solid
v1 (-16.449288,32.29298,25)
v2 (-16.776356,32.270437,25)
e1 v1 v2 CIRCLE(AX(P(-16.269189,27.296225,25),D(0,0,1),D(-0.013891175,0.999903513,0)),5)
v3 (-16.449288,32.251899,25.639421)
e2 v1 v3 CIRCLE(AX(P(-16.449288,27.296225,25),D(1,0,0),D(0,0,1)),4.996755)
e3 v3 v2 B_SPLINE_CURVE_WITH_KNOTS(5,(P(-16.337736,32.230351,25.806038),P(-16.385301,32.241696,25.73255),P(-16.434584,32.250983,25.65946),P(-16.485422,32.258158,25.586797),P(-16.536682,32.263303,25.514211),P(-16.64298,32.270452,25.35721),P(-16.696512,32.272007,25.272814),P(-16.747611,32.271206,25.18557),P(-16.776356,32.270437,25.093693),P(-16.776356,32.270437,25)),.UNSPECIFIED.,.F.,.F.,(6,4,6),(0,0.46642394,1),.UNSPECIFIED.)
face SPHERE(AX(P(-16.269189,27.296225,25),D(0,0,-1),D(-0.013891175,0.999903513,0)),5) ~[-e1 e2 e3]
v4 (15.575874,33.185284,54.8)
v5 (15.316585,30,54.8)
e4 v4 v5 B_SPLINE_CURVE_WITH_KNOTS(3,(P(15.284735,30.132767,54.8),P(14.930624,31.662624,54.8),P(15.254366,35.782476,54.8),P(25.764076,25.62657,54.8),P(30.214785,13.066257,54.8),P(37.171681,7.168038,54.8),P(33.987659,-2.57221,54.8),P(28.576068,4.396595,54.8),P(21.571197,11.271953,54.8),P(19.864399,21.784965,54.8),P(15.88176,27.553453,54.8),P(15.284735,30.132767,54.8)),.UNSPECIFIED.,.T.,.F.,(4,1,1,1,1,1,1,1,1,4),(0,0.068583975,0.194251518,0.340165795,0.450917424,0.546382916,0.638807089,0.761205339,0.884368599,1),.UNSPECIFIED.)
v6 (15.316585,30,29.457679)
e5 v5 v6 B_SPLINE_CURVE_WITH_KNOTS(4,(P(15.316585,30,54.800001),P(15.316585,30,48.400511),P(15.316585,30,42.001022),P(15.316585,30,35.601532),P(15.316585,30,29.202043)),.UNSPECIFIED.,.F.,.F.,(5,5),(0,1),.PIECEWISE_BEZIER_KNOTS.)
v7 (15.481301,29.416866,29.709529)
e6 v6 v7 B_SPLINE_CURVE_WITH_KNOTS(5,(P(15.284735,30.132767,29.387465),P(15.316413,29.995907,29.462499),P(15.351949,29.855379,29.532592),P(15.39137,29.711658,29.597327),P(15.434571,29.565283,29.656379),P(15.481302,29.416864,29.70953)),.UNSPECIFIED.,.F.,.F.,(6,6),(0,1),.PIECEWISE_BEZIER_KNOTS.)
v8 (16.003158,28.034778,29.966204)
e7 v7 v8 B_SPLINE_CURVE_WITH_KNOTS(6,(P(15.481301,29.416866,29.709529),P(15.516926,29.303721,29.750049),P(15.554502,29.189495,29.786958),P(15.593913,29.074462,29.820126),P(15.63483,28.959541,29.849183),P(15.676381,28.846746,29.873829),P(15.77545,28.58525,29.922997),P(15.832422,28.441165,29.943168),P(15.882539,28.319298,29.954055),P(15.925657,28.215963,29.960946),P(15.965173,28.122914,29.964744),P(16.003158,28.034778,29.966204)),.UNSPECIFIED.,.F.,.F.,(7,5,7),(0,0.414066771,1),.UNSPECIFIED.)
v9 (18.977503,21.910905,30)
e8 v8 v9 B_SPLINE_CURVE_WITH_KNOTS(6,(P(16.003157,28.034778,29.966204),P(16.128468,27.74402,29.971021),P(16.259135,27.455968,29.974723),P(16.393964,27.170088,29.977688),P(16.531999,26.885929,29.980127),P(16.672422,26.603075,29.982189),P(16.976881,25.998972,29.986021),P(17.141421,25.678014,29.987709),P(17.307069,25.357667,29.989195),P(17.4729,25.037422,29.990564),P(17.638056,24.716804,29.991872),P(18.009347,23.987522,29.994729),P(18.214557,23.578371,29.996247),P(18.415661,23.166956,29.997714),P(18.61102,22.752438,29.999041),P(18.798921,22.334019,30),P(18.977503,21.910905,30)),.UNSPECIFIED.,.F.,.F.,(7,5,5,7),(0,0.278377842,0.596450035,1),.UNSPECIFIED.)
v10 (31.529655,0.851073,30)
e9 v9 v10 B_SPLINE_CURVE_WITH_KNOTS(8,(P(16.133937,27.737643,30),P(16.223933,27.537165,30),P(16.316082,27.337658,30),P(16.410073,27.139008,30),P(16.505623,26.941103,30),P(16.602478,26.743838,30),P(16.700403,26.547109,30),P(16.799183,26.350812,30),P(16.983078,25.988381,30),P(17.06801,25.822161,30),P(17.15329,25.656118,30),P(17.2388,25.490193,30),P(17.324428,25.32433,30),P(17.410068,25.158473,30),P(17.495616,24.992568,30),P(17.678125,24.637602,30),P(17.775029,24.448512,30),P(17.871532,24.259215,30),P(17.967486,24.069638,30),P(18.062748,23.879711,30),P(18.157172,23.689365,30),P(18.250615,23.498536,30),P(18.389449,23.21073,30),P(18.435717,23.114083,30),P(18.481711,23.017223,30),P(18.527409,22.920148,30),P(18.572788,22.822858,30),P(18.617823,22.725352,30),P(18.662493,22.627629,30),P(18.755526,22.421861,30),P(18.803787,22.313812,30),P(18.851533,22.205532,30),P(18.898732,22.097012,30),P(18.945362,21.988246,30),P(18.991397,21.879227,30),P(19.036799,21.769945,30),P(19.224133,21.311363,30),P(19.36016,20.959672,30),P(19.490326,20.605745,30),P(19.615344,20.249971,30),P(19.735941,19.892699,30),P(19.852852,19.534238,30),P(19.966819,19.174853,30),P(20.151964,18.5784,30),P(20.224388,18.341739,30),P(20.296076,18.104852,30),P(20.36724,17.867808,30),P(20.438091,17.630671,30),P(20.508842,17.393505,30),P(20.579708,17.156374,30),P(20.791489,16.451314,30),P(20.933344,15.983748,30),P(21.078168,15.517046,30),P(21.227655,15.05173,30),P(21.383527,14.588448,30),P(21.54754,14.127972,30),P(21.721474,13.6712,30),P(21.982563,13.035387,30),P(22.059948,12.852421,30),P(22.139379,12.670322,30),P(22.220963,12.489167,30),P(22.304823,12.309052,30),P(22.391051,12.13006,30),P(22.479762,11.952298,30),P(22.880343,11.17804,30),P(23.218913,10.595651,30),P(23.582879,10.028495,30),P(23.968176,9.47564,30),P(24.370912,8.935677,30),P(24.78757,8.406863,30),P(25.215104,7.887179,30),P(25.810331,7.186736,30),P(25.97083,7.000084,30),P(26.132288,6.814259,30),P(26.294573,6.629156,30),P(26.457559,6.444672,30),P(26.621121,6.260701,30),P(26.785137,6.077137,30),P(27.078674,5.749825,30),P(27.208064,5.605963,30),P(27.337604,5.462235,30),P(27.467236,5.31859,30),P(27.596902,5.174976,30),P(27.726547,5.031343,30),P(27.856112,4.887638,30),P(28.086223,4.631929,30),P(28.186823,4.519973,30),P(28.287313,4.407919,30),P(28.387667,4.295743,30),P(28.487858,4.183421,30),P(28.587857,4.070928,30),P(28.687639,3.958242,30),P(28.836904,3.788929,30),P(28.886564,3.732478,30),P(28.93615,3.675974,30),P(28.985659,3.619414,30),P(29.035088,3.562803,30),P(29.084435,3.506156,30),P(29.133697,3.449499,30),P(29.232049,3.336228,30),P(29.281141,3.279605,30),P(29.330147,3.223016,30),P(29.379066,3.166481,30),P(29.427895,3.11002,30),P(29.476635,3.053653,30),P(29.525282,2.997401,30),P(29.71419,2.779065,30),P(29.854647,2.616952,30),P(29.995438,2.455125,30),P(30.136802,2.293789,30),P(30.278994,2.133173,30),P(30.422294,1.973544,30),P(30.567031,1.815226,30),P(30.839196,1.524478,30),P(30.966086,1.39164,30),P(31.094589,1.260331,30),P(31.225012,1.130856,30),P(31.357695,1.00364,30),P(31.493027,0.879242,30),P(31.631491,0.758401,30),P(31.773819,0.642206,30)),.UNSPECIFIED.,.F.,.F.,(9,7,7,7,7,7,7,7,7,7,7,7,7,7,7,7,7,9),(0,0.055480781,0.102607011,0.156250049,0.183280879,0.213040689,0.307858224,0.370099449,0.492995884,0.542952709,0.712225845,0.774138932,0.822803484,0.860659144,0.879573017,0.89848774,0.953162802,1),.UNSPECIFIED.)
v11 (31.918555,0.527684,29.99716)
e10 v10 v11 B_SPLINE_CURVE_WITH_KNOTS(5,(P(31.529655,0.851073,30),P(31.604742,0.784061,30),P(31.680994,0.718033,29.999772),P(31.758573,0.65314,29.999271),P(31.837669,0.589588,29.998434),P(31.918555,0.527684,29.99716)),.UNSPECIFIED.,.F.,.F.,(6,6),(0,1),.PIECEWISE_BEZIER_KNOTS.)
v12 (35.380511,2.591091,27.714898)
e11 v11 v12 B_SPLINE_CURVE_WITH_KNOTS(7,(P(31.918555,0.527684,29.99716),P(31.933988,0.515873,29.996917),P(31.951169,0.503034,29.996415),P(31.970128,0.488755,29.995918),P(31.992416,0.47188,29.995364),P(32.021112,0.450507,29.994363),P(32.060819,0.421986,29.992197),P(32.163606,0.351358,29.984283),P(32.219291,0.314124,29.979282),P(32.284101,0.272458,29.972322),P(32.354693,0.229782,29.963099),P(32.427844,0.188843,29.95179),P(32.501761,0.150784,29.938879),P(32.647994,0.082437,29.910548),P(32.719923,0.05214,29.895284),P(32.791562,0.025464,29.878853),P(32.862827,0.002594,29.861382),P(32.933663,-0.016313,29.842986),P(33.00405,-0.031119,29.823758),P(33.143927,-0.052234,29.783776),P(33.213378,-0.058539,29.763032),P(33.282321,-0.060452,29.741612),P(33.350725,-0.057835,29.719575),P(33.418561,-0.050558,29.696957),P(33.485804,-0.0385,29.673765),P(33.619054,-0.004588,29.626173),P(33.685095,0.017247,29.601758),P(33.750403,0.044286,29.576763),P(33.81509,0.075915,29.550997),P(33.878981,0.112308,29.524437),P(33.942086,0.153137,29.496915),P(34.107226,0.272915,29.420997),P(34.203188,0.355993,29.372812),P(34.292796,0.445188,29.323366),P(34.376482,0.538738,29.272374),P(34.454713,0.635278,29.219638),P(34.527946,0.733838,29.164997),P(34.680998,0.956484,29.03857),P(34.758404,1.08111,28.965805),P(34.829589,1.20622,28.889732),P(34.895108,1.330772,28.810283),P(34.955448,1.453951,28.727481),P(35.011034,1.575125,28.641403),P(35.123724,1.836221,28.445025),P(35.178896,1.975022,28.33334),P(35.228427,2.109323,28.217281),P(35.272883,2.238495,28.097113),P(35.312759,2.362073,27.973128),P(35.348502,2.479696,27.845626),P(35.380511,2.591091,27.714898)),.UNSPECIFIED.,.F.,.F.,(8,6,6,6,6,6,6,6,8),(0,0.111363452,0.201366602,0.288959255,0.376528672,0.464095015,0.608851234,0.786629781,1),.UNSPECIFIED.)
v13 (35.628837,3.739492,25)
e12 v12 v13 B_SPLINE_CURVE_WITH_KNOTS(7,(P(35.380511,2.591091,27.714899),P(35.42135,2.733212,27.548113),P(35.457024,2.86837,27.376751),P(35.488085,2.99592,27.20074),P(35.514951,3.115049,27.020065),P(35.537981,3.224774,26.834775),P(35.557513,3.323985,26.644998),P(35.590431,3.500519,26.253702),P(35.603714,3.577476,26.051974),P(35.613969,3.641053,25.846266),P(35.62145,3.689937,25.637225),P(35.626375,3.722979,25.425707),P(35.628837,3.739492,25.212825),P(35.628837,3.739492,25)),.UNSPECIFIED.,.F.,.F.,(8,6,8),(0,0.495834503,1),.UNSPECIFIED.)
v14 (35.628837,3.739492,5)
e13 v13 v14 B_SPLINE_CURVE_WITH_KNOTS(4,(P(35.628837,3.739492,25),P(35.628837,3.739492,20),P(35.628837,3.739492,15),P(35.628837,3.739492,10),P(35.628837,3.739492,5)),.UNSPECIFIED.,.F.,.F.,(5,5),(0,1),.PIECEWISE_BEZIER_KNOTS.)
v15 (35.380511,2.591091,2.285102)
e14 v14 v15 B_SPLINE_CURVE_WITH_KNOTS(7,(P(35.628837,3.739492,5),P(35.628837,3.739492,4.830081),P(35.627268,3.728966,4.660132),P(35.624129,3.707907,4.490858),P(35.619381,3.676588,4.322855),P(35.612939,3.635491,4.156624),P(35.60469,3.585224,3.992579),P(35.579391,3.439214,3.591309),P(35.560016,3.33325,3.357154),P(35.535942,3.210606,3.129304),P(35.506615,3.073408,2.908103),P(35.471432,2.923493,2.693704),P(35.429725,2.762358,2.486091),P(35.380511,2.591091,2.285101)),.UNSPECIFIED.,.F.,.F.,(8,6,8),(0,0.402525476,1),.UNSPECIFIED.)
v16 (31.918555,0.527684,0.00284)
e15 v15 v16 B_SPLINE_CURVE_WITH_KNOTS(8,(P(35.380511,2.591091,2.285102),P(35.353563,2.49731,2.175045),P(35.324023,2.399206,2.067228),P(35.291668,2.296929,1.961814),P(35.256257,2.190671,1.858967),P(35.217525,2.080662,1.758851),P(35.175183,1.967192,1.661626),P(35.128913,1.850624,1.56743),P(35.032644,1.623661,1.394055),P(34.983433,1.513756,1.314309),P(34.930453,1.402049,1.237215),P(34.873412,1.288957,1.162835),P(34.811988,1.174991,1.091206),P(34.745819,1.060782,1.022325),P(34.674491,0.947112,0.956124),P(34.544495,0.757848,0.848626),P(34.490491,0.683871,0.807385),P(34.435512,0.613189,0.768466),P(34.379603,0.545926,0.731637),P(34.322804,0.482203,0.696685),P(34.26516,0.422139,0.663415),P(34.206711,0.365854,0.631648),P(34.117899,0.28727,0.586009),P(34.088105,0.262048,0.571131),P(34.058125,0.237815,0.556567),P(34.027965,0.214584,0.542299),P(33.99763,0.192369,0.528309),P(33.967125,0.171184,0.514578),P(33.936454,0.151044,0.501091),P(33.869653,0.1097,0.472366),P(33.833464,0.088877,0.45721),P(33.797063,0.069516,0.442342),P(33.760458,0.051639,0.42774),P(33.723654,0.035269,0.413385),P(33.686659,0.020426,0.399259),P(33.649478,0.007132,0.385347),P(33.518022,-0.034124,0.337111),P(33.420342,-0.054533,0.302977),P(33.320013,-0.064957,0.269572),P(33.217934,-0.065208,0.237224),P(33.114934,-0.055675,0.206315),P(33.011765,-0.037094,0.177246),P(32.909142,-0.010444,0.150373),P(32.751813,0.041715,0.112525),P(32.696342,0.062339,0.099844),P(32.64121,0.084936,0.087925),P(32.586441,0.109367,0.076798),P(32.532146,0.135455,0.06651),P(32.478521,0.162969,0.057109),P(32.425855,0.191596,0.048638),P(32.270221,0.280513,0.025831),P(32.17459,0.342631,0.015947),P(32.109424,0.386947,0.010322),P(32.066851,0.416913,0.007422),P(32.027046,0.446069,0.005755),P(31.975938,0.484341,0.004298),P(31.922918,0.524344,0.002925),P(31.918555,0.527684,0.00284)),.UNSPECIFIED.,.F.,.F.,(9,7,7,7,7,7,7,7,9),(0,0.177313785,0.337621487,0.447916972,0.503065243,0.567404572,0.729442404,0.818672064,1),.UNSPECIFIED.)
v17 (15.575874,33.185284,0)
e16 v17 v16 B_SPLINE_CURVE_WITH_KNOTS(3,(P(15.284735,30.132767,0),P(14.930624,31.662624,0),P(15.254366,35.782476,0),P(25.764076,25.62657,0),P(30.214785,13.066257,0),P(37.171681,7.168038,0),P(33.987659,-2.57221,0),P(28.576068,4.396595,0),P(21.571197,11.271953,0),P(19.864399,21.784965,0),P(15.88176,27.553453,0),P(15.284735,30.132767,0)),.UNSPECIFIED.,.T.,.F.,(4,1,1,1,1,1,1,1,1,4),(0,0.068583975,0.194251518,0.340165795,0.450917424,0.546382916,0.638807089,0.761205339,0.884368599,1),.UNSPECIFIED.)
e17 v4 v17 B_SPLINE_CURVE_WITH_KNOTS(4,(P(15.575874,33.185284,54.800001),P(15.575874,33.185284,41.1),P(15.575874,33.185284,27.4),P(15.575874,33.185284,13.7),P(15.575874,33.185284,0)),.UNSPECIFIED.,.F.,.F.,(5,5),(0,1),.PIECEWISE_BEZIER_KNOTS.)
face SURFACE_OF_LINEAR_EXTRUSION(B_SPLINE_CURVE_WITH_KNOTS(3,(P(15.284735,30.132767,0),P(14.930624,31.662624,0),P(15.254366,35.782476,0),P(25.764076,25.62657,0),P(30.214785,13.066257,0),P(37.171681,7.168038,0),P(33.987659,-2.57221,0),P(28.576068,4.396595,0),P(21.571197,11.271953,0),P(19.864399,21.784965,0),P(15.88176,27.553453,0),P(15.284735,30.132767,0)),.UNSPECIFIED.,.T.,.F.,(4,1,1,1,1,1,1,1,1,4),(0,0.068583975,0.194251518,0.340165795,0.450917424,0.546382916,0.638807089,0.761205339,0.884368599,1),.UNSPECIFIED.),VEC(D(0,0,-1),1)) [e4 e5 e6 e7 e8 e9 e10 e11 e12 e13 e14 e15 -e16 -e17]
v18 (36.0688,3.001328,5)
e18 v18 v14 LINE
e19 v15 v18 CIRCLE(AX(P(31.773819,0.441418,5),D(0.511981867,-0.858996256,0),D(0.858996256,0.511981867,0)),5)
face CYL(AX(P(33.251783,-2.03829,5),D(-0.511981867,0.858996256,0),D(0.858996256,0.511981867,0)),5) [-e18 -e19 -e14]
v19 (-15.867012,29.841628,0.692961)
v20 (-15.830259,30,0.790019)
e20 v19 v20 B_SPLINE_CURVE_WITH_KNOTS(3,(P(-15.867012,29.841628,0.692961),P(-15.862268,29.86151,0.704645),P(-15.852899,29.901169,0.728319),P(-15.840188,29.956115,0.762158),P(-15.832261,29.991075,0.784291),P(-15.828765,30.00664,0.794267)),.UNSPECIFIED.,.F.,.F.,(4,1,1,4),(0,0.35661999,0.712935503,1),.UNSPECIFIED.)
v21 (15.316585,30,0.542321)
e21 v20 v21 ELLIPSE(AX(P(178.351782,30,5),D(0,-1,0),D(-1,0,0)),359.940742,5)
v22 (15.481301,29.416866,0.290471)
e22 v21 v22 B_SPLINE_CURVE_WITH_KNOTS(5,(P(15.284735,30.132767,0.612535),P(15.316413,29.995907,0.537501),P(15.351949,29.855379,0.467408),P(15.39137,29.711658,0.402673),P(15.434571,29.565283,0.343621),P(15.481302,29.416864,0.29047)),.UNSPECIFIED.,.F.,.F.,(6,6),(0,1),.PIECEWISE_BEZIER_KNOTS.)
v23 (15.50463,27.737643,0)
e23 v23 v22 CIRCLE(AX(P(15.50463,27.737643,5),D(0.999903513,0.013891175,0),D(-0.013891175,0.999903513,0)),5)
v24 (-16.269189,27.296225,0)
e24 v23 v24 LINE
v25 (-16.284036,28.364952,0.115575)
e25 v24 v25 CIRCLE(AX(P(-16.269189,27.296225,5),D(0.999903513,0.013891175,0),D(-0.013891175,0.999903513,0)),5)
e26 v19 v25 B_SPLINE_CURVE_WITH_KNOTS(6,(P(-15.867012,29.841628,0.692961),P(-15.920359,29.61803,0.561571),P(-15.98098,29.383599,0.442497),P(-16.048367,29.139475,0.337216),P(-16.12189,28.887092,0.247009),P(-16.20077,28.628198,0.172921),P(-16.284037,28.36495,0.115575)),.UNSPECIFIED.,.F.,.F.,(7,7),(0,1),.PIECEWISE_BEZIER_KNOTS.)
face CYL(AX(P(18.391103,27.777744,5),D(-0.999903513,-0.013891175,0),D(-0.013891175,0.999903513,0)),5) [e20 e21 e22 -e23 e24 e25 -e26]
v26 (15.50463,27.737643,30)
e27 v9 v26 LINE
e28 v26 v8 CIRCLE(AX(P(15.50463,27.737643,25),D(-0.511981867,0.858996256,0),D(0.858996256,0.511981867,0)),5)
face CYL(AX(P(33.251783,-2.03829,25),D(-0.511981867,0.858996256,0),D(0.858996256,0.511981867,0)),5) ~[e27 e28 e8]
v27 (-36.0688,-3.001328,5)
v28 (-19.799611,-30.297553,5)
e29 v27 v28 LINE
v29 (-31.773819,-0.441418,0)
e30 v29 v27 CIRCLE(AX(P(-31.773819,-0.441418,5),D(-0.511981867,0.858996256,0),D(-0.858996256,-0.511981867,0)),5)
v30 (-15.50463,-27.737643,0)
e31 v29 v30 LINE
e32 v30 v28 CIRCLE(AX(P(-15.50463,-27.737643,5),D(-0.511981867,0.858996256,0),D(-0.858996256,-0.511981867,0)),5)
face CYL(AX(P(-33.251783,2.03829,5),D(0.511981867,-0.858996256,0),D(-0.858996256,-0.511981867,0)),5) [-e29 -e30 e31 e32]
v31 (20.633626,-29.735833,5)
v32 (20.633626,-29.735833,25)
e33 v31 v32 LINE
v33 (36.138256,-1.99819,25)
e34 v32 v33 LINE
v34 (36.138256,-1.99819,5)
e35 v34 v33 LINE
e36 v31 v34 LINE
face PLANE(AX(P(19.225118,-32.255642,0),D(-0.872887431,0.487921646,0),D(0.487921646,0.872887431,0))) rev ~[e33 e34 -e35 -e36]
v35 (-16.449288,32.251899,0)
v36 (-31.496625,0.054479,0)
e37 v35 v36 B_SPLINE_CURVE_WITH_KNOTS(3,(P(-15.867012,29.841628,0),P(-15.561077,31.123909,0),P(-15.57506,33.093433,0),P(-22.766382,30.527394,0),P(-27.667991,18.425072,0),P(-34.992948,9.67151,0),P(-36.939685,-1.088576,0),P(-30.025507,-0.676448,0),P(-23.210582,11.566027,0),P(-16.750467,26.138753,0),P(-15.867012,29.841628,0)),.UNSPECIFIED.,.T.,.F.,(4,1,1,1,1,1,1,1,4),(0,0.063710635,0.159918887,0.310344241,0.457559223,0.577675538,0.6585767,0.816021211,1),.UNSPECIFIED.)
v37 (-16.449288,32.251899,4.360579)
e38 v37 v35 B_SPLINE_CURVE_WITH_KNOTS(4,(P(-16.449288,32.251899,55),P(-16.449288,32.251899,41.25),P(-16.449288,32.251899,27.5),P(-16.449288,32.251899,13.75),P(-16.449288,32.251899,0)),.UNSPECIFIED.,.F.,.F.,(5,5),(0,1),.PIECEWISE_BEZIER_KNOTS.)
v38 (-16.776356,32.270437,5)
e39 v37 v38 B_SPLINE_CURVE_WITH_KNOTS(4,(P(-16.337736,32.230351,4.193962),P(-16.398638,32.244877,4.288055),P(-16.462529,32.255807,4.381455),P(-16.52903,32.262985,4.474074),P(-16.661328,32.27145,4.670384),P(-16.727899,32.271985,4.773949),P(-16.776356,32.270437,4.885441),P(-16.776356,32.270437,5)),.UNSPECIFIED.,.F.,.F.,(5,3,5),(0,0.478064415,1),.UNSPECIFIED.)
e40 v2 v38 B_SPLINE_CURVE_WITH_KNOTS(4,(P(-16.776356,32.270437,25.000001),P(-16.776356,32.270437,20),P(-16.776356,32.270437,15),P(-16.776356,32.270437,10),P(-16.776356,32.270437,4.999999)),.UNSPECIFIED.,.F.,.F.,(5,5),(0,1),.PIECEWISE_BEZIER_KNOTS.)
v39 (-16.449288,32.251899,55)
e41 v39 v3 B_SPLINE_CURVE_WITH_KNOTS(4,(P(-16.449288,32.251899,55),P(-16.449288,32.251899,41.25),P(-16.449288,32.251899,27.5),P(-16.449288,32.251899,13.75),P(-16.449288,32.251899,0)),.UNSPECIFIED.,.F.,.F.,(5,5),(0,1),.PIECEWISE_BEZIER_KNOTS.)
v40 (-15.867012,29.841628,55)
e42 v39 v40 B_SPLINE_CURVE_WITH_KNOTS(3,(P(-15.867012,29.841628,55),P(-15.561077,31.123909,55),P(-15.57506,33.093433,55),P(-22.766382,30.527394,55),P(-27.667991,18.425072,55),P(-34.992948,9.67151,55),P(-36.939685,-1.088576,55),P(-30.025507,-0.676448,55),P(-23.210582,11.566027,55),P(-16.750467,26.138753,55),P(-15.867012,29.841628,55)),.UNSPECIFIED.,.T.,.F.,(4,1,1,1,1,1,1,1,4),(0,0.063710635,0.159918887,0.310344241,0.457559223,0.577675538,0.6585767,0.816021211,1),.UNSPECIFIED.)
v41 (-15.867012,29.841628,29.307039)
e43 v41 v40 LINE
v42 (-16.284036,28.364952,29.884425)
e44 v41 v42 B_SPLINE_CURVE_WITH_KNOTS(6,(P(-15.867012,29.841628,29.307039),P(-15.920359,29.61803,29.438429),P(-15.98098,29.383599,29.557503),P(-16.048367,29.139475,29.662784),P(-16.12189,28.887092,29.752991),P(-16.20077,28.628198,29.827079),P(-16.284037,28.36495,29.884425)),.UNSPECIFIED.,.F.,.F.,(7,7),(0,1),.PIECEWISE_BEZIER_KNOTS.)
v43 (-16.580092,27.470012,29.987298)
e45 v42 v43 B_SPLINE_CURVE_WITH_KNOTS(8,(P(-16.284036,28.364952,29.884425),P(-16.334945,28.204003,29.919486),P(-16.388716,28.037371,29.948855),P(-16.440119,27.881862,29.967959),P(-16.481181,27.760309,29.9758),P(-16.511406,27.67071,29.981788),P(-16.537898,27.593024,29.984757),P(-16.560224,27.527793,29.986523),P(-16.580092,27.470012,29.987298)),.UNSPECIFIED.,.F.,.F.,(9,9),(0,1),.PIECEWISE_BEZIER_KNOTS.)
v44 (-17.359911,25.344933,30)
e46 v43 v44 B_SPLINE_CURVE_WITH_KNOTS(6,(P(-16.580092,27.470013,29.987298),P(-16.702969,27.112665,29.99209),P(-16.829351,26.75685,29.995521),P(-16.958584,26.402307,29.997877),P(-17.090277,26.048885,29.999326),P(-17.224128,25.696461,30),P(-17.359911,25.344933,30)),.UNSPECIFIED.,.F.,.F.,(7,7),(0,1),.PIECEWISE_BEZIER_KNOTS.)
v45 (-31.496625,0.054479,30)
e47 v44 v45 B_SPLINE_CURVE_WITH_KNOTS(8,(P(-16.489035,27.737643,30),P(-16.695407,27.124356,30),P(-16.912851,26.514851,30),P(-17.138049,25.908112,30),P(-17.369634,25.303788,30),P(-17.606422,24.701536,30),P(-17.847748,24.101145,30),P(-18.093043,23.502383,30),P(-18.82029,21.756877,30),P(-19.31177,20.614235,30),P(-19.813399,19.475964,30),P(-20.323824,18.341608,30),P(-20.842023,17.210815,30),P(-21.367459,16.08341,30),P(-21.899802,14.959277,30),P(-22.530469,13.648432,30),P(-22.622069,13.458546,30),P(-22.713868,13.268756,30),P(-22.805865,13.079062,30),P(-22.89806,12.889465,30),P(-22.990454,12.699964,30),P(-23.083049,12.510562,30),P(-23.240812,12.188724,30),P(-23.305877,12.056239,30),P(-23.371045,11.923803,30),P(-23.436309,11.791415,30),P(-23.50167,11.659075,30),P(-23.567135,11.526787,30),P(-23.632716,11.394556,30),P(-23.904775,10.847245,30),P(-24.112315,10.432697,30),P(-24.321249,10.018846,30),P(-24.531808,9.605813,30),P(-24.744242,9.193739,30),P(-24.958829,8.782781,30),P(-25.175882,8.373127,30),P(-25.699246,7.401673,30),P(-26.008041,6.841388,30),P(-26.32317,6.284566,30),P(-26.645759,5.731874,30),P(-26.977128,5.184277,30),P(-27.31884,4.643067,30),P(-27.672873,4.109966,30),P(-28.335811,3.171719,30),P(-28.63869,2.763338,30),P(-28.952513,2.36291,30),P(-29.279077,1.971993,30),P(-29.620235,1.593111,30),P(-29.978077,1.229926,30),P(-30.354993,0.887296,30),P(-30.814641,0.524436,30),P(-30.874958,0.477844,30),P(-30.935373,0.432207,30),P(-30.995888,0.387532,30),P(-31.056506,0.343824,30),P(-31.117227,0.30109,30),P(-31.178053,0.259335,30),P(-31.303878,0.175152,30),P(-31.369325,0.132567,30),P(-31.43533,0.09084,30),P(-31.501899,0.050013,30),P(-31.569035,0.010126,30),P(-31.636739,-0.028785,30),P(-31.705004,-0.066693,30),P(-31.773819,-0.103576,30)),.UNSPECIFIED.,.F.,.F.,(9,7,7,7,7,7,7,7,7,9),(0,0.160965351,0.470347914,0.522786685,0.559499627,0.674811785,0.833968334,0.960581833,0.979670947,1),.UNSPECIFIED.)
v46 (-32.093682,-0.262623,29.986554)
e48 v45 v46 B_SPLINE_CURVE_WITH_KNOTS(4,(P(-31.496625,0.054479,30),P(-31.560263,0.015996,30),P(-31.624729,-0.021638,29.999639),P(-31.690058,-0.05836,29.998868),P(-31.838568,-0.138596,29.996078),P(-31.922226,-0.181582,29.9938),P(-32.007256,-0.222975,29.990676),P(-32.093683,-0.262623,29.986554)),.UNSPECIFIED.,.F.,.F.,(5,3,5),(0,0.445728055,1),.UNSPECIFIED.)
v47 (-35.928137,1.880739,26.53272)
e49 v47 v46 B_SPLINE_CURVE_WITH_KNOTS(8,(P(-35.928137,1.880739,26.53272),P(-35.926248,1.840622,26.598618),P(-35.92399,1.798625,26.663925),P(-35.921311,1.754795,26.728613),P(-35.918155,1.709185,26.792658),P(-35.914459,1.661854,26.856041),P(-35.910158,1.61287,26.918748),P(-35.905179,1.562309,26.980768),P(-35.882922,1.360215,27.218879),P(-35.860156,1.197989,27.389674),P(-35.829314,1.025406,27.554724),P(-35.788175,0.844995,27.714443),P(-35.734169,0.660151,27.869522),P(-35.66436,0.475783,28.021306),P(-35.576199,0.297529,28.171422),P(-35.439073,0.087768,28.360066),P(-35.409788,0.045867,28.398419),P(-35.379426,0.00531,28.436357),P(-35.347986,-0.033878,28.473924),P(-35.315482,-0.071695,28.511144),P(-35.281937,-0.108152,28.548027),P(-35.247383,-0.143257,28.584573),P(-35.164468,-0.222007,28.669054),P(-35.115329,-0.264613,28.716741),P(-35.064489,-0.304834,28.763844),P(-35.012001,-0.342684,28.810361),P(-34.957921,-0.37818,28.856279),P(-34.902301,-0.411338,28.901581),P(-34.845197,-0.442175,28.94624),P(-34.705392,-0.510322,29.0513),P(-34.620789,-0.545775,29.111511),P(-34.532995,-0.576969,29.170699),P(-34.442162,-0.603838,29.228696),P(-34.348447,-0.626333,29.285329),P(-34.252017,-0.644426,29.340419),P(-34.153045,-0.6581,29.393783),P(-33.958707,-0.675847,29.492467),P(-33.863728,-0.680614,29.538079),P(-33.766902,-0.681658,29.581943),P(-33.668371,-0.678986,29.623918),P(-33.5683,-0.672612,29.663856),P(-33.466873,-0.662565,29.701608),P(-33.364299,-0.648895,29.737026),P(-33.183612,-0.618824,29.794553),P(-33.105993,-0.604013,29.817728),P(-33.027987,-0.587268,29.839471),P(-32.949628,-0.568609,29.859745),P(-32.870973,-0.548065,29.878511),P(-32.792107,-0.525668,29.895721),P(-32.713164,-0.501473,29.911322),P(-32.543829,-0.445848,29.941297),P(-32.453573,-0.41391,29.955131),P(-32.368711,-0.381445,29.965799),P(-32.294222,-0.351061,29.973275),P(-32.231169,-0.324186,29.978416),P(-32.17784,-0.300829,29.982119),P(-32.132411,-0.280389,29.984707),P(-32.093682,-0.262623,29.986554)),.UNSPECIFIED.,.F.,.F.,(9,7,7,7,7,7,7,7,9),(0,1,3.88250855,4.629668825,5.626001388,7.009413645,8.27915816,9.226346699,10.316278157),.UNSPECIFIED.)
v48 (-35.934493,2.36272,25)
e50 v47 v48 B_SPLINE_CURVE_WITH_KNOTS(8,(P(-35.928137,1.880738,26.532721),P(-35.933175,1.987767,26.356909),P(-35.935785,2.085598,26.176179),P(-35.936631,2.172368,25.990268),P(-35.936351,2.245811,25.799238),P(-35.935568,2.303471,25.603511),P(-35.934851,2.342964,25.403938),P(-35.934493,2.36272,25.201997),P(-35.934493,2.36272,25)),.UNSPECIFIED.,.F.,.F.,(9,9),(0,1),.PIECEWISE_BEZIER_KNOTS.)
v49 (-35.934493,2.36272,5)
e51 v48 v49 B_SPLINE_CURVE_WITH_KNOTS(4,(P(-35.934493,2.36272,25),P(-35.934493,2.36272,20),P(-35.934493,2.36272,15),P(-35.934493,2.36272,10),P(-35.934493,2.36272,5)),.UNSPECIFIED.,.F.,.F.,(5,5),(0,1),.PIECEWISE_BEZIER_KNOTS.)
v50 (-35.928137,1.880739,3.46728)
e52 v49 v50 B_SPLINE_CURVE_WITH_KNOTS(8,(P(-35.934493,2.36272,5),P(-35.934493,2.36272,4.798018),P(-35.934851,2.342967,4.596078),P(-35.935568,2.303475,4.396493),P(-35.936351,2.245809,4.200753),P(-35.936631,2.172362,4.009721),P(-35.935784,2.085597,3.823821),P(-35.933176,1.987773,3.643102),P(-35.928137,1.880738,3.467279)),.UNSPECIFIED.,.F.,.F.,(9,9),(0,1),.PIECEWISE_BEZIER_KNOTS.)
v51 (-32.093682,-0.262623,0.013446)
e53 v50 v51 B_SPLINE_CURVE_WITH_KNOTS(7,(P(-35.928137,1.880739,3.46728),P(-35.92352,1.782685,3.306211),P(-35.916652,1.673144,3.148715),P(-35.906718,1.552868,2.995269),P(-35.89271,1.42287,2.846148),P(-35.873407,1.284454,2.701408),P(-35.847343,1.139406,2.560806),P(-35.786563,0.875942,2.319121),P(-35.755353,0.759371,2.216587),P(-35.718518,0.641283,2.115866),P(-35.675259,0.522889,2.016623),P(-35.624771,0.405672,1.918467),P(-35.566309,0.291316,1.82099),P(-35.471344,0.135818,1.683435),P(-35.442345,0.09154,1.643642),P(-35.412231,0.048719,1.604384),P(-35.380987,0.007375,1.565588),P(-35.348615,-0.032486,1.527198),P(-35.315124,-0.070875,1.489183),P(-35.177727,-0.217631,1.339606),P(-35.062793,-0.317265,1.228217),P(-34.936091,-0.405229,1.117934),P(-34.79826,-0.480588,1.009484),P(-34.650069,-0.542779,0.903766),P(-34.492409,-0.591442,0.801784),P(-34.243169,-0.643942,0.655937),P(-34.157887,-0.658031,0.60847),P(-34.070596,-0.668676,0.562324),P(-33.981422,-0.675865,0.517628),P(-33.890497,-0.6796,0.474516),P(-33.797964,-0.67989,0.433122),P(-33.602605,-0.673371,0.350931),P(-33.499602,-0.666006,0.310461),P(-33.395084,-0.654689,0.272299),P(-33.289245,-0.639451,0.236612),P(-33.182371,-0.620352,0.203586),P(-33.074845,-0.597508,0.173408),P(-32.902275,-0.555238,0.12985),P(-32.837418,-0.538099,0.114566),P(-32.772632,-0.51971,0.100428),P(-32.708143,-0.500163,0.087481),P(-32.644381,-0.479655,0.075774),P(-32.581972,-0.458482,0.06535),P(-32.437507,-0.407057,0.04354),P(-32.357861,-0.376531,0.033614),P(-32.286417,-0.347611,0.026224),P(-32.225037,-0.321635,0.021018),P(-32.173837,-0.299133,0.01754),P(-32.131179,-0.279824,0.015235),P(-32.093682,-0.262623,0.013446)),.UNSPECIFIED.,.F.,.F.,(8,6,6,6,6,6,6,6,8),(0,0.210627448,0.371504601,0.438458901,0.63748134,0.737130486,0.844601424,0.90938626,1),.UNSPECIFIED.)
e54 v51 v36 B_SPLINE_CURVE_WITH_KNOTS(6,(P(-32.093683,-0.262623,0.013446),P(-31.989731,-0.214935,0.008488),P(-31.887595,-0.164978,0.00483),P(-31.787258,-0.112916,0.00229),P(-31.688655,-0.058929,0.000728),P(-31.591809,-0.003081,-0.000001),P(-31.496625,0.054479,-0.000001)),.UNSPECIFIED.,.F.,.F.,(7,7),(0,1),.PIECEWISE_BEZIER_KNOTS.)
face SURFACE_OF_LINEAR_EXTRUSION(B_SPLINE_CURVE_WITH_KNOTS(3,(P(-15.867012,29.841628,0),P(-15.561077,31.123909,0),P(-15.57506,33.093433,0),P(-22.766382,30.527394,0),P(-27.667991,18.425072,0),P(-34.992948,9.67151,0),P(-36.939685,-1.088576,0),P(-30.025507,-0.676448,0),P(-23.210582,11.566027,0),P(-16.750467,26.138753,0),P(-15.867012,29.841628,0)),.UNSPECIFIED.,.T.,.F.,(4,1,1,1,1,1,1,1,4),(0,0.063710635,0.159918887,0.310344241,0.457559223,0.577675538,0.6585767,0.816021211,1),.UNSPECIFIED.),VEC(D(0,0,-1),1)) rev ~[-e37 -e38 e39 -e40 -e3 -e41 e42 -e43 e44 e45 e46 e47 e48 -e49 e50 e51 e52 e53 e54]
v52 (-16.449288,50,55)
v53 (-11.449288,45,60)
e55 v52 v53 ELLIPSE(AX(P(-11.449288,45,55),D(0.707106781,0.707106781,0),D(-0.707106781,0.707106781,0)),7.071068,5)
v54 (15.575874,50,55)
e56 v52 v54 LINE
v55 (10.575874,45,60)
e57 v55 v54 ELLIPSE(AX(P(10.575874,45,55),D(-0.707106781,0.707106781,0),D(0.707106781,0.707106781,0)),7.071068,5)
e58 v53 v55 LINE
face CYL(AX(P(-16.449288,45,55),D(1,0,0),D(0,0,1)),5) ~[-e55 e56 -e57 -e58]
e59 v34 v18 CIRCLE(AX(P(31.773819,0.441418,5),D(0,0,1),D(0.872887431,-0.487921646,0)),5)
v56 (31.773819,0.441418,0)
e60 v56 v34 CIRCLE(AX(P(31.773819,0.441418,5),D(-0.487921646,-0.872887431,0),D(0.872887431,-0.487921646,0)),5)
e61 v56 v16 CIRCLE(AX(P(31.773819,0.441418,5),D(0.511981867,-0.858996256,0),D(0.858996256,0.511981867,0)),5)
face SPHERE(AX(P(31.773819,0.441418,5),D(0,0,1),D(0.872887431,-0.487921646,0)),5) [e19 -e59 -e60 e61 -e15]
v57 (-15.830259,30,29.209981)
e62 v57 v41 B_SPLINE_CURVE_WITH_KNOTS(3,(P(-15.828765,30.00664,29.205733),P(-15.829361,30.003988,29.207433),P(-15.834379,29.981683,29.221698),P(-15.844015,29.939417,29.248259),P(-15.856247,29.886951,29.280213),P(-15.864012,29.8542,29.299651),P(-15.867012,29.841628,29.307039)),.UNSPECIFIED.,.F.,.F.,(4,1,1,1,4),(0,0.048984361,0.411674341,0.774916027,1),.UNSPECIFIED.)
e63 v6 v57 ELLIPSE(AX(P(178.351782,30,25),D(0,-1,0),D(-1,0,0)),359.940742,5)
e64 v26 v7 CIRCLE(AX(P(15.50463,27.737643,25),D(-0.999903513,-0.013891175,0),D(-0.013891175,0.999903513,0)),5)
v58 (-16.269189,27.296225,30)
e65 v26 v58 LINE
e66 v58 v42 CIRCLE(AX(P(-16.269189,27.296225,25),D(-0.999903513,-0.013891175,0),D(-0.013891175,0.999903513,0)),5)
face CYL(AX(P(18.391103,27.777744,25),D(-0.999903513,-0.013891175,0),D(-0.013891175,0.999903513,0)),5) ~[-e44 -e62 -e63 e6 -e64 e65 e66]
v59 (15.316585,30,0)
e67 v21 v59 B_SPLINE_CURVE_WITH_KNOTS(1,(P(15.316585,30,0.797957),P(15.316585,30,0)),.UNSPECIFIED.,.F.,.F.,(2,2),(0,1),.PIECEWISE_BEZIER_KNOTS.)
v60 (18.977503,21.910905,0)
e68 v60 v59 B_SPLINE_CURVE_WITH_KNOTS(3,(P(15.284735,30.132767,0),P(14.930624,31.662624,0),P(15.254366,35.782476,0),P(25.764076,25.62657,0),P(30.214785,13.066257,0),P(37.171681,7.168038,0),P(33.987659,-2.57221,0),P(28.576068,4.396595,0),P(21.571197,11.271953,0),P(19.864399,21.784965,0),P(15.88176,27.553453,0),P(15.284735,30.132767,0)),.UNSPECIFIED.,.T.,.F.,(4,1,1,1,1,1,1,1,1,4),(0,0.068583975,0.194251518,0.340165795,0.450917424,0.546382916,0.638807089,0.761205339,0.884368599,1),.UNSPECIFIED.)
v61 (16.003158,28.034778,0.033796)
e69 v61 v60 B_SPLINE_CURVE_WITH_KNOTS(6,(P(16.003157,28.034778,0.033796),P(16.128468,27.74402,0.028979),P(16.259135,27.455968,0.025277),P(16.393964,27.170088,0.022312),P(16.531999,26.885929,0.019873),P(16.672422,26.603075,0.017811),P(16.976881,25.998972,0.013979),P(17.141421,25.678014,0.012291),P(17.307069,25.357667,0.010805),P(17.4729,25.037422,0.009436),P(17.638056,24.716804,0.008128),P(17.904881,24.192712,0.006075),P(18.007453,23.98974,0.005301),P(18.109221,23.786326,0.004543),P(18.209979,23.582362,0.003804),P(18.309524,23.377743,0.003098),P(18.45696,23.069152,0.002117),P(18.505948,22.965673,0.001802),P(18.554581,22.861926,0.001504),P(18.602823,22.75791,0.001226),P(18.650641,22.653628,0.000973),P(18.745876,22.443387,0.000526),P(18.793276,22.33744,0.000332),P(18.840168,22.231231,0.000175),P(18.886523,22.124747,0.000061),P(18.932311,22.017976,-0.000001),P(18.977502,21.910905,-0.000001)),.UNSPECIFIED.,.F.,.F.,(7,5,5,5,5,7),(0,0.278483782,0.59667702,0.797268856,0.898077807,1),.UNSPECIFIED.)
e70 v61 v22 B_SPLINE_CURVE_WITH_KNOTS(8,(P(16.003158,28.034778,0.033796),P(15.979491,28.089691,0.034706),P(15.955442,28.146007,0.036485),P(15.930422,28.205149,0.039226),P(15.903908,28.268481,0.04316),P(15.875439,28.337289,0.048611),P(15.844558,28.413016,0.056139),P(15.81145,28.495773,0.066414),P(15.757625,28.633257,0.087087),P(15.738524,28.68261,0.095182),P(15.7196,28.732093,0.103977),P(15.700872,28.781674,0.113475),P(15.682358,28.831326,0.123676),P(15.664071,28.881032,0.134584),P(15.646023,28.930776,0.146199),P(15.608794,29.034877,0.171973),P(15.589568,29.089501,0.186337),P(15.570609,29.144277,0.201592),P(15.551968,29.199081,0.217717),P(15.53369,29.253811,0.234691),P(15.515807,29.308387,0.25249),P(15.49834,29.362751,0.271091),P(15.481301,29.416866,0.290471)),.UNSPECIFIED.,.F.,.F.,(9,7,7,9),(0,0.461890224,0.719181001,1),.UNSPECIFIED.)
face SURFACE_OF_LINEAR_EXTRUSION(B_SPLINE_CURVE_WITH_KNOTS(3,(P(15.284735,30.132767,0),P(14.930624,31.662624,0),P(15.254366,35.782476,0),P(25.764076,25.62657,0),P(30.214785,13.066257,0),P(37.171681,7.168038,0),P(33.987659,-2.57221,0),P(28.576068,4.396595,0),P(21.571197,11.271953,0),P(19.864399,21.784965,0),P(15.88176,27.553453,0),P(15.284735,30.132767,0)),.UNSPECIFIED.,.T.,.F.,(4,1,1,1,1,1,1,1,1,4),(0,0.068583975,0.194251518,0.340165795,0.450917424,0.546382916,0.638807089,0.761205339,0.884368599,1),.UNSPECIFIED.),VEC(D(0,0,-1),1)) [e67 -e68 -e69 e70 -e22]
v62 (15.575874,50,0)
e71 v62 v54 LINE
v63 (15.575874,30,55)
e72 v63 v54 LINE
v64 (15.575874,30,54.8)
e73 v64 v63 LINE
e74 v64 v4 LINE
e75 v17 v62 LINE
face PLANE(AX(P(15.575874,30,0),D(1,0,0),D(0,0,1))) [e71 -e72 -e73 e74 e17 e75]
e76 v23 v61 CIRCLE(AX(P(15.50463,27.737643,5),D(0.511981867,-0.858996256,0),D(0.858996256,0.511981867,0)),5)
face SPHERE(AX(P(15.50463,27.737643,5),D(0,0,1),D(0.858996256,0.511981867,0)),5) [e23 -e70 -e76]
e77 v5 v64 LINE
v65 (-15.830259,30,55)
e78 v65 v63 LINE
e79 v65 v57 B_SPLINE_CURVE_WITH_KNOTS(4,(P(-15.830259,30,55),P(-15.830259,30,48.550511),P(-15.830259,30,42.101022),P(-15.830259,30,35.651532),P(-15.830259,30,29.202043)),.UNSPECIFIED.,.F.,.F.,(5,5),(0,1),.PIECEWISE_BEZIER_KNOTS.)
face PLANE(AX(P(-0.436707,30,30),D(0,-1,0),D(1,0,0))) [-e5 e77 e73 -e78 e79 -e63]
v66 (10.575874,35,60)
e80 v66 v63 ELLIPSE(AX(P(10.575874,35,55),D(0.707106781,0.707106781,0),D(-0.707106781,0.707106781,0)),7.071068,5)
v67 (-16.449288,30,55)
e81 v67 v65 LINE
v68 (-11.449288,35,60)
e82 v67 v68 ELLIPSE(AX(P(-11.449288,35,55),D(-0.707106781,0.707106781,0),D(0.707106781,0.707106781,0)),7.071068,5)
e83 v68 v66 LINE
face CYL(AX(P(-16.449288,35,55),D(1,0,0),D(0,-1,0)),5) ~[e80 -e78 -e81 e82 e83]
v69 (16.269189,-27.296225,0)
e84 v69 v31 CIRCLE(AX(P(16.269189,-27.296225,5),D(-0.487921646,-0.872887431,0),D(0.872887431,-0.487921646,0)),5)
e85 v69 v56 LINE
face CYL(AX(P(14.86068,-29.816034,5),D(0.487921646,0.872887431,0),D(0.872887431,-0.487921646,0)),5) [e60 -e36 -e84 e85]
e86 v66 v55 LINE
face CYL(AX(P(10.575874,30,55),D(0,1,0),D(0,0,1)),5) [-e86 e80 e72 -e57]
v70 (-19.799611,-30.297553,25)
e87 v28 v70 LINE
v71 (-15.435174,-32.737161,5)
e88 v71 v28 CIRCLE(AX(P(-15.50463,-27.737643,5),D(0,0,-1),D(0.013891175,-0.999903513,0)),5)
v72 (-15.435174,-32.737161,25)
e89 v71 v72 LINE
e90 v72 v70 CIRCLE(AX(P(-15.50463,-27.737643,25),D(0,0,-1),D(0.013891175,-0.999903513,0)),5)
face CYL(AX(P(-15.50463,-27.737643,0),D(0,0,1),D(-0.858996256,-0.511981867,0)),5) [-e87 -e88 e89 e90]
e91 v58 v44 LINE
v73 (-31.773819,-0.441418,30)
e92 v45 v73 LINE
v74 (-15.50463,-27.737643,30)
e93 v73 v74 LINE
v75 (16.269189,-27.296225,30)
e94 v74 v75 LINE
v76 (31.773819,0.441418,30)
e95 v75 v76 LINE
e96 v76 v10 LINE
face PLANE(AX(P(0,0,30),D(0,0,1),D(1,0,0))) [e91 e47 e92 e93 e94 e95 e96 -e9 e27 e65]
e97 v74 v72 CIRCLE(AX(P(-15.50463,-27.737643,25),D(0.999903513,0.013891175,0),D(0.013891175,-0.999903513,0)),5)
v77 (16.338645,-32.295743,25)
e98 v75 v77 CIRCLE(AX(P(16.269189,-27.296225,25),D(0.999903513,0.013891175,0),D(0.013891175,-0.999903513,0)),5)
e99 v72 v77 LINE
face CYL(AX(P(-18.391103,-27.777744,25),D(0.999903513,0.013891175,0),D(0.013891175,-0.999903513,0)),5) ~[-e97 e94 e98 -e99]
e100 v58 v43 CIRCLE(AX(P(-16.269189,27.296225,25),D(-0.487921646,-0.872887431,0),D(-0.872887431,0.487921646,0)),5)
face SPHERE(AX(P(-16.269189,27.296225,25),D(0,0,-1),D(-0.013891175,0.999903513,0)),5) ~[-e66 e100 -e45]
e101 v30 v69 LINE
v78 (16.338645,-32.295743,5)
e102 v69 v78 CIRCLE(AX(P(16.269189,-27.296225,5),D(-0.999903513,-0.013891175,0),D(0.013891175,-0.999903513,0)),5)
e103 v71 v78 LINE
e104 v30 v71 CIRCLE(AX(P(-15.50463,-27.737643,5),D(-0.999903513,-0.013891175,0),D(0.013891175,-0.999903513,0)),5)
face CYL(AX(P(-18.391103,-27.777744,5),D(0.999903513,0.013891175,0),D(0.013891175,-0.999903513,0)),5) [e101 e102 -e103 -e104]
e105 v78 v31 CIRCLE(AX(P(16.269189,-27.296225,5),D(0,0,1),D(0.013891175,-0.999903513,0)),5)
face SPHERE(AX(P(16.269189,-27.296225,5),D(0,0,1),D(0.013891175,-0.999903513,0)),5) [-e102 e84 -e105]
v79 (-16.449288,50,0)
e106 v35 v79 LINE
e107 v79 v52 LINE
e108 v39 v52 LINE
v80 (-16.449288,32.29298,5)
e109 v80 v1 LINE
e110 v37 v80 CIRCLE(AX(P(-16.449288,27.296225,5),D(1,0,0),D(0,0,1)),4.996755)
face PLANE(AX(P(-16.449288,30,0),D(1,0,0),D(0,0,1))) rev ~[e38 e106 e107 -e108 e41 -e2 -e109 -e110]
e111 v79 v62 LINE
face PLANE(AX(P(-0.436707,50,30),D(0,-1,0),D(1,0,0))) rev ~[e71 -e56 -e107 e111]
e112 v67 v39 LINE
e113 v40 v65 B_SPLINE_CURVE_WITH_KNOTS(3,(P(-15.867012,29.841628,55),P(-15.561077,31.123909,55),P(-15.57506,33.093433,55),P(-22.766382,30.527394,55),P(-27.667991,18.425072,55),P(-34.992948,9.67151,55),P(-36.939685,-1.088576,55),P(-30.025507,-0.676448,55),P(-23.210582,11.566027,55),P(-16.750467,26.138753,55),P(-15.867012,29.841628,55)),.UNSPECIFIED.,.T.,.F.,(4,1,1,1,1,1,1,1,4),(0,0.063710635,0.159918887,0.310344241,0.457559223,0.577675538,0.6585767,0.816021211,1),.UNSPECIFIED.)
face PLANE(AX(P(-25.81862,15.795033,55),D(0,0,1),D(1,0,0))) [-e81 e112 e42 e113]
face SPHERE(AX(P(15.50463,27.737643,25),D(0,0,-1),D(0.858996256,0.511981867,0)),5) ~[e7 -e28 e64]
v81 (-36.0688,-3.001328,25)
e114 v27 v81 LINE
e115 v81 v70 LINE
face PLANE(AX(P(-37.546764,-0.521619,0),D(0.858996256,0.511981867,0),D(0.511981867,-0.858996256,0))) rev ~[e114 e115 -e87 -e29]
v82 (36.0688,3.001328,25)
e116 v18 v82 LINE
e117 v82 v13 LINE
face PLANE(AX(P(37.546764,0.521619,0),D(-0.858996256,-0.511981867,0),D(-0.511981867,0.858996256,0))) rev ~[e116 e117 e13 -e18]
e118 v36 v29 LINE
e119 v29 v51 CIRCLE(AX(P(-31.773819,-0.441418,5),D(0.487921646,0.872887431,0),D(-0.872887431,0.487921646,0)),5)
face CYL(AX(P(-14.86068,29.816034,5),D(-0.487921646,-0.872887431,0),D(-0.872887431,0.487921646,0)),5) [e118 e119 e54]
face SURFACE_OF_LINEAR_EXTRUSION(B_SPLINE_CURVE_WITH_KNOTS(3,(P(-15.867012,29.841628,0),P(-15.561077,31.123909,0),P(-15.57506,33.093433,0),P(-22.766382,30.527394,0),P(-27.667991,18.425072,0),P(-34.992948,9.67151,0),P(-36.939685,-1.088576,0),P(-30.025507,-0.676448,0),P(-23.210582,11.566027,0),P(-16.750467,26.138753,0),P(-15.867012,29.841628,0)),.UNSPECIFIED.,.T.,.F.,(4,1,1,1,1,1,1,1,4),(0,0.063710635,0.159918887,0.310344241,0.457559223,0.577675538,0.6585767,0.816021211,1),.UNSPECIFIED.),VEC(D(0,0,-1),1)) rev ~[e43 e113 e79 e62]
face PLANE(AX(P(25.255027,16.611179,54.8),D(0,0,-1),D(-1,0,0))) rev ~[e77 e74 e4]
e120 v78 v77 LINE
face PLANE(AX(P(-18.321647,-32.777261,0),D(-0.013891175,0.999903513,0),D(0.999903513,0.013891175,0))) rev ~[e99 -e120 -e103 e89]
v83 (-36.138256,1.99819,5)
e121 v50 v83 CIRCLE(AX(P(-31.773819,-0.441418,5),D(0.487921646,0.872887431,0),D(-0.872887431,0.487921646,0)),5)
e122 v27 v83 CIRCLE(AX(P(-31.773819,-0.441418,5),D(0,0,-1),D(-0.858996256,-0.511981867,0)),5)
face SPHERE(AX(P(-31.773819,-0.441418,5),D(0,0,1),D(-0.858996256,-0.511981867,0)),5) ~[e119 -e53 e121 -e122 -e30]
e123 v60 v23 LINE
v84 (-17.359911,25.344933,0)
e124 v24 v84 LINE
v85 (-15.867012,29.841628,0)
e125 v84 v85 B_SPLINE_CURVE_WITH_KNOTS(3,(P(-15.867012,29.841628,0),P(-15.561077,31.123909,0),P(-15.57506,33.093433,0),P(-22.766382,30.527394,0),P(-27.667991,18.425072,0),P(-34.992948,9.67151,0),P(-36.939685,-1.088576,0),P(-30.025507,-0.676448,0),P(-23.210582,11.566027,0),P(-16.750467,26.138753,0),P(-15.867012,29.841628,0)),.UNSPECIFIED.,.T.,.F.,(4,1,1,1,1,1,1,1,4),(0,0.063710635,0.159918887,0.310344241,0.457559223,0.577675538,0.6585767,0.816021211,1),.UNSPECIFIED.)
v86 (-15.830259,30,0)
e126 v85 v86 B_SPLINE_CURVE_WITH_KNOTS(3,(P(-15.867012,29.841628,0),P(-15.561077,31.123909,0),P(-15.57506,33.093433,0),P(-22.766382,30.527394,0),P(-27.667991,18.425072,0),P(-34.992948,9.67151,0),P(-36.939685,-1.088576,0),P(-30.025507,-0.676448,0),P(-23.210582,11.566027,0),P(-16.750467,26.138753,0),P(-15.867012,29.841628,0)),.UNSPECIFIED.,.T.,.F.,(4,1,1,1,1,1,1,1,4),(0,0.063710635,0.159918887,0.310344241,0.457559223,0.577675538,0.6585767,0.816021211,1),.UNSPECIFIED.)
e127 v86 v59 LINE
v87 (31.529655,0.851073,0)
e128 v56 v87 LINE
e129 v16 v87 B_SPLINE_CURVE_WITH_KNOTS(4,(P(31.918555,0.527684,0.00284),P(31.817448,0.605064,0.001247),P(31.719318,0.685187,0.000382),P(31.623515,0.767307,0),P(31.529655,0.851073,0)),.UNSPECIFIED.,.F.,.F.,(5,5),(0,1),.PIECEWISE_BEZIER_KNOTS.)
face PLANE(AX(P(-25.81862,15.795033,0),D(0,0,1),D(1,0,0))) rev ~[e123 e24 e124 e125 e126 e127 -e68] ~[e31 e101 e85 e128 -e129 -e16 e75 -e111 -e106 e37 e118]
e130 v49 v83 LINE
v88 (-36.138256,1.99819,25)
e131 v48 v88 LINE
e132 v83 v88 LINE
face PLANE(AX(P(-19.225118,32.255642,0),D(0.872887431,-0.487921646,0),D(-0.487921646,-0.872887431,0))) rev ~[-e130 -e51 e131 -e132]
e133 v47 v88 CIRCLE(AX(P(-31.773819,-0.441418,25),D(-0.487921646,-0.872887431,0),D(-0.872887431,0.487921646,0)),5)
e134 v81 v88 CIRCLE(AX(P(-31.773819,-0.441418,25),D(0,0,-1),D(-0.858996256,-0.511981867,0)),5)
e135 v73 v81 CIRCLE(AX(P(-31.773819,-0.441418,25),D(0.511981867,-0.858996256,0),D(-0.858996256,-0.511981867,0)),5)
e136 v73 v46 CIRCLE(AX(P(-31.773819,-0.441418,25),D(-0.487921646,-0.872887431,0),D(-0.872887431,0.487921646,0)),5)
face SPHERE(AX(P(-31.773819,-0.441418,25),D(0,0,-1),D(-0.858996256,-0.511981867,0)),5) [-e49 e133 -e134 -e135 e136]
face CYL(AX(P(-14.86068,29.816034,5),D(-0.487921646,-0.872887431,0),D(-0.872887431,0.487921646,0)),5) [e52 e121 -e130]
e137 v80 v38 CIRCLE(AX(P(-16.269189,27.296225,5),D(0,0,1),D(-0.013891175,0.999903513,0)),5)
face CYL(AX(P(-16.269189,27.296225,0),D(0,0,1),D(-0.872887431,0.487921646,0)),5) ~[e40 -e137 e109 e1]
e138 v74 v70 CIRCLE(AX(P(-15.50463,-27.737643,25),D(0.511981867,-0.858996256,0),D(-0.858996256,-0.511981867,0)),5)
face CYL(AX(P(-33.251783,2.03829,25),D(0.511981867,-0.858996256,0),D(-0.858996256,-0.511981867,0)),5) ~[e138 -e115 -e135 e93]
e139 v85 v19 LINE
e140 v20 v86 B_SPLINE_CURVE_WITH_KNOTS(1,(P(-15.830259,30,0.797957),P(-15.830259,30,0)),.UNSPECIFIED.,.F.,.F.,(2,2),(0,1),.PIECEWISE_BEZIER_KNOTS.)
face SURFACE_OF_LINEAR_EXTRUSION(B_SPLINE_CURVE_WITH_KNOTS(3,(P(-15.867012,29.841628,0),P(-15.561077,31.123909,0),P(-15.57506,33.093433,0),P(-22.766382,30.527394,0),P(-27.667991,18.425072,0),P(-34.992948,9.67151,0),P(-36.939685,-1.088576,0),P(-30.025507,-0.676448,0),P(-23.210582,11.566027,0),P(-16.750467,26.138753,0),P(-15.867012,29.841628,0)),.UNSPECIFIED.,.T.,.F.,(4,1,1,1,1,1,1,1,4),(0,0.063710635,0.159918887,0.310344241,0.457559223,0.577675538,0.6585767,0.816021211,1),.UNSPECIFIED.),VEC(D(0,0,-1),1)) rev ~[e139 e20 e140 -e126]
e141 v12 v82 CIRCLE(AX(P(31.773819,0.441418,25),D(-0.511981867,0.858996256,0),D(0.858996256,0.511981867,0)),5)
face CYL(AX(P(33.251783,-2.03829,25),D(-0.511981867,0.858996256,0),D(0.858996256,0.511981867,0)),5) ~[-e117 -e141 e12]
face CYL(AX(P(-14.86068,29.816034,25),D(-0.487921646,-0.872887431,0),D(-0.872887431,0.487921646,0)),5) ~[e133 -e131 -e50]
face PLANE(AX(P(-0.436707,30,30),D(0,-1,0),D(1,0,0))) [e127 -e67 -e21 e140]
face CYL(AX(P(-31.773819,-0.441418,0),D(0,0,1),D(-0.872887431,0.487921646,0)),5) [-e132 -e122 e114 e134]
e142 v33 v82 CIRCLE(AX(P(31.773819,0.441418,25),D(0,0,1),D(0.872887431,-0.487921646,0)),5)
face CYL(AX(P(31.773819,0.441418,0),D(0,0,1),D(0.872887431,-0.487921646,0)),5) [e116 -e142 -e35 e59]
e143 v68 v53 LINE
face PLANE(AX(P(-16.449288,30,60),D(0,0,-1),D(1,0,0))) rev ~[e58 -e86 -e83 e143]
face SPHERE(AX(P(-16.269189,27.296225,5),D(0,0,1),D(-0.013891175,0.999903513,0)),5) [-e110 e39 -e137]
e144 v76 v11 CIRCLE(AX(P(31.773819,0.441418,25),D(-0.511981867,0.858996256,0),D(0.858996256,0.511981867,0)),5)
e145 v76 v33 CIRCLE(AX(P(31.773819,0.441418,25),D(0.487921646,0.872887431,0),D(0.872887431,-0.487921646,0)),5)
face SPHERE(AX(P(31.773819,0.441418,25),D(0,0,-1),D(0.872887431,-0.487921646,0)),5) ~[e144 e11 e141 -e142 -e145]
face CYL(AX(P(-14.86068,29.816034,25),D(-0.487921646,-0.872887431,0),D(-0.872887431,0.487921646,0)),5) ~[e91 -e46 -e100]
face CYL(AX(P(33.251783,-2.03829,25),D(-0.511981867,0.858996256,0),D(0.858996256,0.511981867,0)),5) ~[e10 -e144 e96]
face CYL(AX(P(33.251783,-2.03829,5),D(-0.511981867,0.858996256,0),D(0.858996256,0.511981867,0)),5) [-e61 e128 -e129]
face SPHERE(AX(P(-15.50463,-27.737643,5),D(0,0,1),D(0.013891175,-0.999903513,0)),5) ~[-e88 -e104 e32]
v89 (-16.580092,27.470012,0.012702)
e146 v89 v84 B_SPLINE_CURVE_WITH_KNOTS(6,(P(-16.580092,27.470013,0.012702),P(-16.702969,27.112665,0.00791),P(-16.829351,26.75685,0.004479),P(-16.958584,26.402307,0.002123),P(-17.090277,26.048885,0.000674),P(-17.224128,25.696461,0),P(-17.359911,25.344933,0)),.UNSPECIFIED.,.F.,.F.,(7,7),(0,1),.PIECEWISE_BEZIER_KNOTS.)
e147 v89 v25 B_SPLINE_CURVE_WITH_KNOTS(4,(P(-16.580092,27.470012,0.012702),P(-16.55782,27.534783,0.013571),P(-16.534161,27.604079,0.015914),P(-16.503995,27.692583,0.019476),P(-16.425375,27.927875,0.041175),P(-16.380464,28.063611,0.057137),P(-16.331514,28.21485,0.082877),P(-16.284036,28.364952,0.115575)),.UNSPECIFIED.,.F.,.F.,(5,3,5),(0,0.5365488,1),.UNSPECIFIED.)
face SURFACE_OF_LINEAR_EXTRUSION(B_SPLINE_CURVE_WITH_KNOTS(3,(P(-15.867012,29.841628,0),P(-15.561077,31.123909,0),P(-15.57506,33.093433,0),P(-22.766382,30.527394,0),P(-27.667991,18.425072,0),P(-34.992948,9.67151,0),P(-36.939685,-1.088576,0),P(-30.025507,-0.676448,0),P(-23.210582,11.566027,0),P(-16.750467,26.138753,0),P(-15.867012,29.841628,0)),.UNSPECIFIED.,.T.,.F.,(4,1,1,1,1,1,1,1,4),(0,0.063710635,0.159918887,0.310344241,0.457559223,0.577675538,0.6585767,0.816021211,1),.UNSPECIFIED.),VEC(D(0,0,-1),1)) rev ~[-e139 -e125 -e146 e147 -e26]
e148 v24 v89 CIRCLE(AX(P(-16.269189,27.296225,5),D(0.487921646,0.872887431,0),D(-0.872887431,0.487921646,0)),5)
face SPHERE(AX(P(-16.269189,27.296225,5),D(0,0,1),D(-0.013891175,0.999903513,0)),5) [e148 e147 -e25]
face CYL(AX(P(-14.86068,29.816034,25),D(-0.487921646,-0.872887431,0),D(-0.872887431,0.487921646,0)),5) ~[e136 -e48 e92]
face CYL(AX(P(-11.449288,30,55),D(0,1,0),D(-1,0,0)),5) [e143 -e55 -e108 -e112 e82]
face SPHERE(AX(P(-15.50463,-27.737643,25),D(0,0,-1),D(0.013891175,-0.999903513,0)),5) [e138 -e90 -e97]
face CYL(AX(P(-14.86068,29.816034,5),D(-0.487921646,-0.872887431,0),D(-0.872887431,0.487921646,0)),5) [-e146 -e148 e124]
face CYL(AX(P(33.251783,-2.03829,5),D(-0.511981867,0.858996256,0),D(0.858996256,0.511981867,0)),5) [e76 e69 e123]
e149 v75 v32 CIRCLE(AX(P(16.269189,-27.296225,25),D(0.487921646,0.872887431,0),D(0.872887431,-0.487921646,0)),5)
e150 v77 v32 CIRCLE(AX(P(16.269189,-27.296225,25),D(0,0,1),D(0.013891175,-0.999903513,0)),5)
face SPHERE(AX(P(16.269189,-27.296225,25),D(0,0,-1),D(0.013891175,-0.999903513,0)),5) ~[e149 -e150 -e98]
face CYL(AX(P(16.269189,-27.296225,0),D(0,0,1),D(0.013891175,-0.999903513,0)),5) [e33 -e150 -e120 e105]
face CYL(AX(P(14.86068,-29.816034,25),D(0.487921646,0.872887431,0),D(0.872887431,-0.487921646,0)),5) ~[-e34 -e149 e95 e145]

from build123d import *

# Parameters (mm, degrees)
F1_DEPTH  = 30
F2_R      = 5
F4_W      = 32.0251611993
F4_H      = 60
F5_DEPTH  = 20
F6_R      = 5
F8_DEPTH  = 54.8
F10_DEPTH = 55


with BuildPart() as f1:
    # F0 (on Top) → F1 (new body)
    with BuildSketch(Plane.XY):
        Polygon((-19.2251175082, 32.255642264), (-37.5467643702, -0.5216190208), (-18.3216468619, -32.7772612849), (19.2251175082, -32.255642264), (37.5467643702, 0.5216190208), (18.3216468619, 32.7772612849), align=None)
    extrude(amount=F1_DEPTH)

    # F2
    f2_edges = [f1.edges().sort_by_distance(p)[0] for p in [
        (-18.321647, -32.777261, 15),
        (19.225118, -32.255642, 15),
        (0.451735, -32.516452, 0),
        (0.451735, -32.516452, 30),
        (-37.546764, -0.521619, 15),
        (-27.934206, -16.64944, 0),
        (-27.934206, -16.64944, 30),
        (37.546764, 0.521619, 15),
        (28.385941, -15.867012, 0),
        (28.385941, -15.867012, 30),
        (27.934206, 16.64944, 30),
        (-0.451735, 32.516452, 30),
        (-28.385941, 15.867012, 30),
        (18.321647, 32.777261, 15),
        (27.934206, 16.64944, 0),
        (-19.225118, 32.255642, 15),
        (-0.451735, 32.516452, 0),
        (-28.385941, 15.867012, 0),
    ]]
    fillet(f2_edges, radius=F2_R)

    # F4 (on offset) → F5 (join)
    with BuildSketch(Plane.XZ.offset(-30)):
        with Locations((-0.4367069341, 30)):
            Rectangle(F4_W, F4_H)
    extrude(amount=-F5_DEPTH)

    # F6
    f6_edges = [f1.edges().sort_by_distance(p)[0] for p in [
        (15.575874, 40, 60),
        (-0.436707, 30, 60),
        (-16.449288, 40, 60),
        (-0.436707, 50, 60),
    ]]
    fillet(f6_edges, radius=F6_R)

    # F7 (on Top) → F8 (join)
    with BuildSketch(Plane.XY):
        with BuildLine():
            add(Edge.make_bspline(
                [(15.2847347781, 30.132766813), (14.9306235584, 31.662624298), (15.2543661385, 35.7824756604), (25.7640764431, 25.6265698241), (30.2147852372, 13.066257125), (37.1716813383, 7.1680377299), (33.9876585871, -2.5722099131), (28.5760680655, 4.396595263), (21.5711973117, 11.2719534854), (19.8643991305, 21.7849648227), (15.8817602001, 27.5534534232), (15.2847347781, 30.132766813)],
                knots=[0, 0, 0, 0, 0.0685839745, 0.1942515176, 0.3401657951, 0.4509174235, 0.5463829157, 0.6388070893, 0.7612053386, 0.8843685994, 1, 1, 1, 1], degree=3))
        make_face()
    extrude(amount=F8_DEPTH)

    # F9 (on Top) → F10 (join)
    with BuildSketch(Plane.XY):
        with BuildLine():
            add(Edge.make_bspline(
                [(-15.8670116216, 29.8416279256), (-15.561076842, 31.1239088348), (-15.575060007, 33.0934327758), (-22.7663821681, 30.5273936808), (-27.6679913034, 18.4250721372), (-34.9929481286, 9.6715104624), (-36.9396851647, -1.0885760378), (-30.0255071608, -0.6764484718), (-23.2105817962, 11.5660274388), (-16.7504671134, 26.1387533688), (-15.8670116216, 29.8416279256)],
                knots=[0, 0, 0, 0, 0.0637106349, 0.1599188874, 0.3103442411, 0.4575592232, 0.5776755382, 0.6585766998, 0.8160212108, 1, 1, 1, 1], degree=3))
        make_face()
    extrude(amount=F10_DEPTH)


solid = f1.part
